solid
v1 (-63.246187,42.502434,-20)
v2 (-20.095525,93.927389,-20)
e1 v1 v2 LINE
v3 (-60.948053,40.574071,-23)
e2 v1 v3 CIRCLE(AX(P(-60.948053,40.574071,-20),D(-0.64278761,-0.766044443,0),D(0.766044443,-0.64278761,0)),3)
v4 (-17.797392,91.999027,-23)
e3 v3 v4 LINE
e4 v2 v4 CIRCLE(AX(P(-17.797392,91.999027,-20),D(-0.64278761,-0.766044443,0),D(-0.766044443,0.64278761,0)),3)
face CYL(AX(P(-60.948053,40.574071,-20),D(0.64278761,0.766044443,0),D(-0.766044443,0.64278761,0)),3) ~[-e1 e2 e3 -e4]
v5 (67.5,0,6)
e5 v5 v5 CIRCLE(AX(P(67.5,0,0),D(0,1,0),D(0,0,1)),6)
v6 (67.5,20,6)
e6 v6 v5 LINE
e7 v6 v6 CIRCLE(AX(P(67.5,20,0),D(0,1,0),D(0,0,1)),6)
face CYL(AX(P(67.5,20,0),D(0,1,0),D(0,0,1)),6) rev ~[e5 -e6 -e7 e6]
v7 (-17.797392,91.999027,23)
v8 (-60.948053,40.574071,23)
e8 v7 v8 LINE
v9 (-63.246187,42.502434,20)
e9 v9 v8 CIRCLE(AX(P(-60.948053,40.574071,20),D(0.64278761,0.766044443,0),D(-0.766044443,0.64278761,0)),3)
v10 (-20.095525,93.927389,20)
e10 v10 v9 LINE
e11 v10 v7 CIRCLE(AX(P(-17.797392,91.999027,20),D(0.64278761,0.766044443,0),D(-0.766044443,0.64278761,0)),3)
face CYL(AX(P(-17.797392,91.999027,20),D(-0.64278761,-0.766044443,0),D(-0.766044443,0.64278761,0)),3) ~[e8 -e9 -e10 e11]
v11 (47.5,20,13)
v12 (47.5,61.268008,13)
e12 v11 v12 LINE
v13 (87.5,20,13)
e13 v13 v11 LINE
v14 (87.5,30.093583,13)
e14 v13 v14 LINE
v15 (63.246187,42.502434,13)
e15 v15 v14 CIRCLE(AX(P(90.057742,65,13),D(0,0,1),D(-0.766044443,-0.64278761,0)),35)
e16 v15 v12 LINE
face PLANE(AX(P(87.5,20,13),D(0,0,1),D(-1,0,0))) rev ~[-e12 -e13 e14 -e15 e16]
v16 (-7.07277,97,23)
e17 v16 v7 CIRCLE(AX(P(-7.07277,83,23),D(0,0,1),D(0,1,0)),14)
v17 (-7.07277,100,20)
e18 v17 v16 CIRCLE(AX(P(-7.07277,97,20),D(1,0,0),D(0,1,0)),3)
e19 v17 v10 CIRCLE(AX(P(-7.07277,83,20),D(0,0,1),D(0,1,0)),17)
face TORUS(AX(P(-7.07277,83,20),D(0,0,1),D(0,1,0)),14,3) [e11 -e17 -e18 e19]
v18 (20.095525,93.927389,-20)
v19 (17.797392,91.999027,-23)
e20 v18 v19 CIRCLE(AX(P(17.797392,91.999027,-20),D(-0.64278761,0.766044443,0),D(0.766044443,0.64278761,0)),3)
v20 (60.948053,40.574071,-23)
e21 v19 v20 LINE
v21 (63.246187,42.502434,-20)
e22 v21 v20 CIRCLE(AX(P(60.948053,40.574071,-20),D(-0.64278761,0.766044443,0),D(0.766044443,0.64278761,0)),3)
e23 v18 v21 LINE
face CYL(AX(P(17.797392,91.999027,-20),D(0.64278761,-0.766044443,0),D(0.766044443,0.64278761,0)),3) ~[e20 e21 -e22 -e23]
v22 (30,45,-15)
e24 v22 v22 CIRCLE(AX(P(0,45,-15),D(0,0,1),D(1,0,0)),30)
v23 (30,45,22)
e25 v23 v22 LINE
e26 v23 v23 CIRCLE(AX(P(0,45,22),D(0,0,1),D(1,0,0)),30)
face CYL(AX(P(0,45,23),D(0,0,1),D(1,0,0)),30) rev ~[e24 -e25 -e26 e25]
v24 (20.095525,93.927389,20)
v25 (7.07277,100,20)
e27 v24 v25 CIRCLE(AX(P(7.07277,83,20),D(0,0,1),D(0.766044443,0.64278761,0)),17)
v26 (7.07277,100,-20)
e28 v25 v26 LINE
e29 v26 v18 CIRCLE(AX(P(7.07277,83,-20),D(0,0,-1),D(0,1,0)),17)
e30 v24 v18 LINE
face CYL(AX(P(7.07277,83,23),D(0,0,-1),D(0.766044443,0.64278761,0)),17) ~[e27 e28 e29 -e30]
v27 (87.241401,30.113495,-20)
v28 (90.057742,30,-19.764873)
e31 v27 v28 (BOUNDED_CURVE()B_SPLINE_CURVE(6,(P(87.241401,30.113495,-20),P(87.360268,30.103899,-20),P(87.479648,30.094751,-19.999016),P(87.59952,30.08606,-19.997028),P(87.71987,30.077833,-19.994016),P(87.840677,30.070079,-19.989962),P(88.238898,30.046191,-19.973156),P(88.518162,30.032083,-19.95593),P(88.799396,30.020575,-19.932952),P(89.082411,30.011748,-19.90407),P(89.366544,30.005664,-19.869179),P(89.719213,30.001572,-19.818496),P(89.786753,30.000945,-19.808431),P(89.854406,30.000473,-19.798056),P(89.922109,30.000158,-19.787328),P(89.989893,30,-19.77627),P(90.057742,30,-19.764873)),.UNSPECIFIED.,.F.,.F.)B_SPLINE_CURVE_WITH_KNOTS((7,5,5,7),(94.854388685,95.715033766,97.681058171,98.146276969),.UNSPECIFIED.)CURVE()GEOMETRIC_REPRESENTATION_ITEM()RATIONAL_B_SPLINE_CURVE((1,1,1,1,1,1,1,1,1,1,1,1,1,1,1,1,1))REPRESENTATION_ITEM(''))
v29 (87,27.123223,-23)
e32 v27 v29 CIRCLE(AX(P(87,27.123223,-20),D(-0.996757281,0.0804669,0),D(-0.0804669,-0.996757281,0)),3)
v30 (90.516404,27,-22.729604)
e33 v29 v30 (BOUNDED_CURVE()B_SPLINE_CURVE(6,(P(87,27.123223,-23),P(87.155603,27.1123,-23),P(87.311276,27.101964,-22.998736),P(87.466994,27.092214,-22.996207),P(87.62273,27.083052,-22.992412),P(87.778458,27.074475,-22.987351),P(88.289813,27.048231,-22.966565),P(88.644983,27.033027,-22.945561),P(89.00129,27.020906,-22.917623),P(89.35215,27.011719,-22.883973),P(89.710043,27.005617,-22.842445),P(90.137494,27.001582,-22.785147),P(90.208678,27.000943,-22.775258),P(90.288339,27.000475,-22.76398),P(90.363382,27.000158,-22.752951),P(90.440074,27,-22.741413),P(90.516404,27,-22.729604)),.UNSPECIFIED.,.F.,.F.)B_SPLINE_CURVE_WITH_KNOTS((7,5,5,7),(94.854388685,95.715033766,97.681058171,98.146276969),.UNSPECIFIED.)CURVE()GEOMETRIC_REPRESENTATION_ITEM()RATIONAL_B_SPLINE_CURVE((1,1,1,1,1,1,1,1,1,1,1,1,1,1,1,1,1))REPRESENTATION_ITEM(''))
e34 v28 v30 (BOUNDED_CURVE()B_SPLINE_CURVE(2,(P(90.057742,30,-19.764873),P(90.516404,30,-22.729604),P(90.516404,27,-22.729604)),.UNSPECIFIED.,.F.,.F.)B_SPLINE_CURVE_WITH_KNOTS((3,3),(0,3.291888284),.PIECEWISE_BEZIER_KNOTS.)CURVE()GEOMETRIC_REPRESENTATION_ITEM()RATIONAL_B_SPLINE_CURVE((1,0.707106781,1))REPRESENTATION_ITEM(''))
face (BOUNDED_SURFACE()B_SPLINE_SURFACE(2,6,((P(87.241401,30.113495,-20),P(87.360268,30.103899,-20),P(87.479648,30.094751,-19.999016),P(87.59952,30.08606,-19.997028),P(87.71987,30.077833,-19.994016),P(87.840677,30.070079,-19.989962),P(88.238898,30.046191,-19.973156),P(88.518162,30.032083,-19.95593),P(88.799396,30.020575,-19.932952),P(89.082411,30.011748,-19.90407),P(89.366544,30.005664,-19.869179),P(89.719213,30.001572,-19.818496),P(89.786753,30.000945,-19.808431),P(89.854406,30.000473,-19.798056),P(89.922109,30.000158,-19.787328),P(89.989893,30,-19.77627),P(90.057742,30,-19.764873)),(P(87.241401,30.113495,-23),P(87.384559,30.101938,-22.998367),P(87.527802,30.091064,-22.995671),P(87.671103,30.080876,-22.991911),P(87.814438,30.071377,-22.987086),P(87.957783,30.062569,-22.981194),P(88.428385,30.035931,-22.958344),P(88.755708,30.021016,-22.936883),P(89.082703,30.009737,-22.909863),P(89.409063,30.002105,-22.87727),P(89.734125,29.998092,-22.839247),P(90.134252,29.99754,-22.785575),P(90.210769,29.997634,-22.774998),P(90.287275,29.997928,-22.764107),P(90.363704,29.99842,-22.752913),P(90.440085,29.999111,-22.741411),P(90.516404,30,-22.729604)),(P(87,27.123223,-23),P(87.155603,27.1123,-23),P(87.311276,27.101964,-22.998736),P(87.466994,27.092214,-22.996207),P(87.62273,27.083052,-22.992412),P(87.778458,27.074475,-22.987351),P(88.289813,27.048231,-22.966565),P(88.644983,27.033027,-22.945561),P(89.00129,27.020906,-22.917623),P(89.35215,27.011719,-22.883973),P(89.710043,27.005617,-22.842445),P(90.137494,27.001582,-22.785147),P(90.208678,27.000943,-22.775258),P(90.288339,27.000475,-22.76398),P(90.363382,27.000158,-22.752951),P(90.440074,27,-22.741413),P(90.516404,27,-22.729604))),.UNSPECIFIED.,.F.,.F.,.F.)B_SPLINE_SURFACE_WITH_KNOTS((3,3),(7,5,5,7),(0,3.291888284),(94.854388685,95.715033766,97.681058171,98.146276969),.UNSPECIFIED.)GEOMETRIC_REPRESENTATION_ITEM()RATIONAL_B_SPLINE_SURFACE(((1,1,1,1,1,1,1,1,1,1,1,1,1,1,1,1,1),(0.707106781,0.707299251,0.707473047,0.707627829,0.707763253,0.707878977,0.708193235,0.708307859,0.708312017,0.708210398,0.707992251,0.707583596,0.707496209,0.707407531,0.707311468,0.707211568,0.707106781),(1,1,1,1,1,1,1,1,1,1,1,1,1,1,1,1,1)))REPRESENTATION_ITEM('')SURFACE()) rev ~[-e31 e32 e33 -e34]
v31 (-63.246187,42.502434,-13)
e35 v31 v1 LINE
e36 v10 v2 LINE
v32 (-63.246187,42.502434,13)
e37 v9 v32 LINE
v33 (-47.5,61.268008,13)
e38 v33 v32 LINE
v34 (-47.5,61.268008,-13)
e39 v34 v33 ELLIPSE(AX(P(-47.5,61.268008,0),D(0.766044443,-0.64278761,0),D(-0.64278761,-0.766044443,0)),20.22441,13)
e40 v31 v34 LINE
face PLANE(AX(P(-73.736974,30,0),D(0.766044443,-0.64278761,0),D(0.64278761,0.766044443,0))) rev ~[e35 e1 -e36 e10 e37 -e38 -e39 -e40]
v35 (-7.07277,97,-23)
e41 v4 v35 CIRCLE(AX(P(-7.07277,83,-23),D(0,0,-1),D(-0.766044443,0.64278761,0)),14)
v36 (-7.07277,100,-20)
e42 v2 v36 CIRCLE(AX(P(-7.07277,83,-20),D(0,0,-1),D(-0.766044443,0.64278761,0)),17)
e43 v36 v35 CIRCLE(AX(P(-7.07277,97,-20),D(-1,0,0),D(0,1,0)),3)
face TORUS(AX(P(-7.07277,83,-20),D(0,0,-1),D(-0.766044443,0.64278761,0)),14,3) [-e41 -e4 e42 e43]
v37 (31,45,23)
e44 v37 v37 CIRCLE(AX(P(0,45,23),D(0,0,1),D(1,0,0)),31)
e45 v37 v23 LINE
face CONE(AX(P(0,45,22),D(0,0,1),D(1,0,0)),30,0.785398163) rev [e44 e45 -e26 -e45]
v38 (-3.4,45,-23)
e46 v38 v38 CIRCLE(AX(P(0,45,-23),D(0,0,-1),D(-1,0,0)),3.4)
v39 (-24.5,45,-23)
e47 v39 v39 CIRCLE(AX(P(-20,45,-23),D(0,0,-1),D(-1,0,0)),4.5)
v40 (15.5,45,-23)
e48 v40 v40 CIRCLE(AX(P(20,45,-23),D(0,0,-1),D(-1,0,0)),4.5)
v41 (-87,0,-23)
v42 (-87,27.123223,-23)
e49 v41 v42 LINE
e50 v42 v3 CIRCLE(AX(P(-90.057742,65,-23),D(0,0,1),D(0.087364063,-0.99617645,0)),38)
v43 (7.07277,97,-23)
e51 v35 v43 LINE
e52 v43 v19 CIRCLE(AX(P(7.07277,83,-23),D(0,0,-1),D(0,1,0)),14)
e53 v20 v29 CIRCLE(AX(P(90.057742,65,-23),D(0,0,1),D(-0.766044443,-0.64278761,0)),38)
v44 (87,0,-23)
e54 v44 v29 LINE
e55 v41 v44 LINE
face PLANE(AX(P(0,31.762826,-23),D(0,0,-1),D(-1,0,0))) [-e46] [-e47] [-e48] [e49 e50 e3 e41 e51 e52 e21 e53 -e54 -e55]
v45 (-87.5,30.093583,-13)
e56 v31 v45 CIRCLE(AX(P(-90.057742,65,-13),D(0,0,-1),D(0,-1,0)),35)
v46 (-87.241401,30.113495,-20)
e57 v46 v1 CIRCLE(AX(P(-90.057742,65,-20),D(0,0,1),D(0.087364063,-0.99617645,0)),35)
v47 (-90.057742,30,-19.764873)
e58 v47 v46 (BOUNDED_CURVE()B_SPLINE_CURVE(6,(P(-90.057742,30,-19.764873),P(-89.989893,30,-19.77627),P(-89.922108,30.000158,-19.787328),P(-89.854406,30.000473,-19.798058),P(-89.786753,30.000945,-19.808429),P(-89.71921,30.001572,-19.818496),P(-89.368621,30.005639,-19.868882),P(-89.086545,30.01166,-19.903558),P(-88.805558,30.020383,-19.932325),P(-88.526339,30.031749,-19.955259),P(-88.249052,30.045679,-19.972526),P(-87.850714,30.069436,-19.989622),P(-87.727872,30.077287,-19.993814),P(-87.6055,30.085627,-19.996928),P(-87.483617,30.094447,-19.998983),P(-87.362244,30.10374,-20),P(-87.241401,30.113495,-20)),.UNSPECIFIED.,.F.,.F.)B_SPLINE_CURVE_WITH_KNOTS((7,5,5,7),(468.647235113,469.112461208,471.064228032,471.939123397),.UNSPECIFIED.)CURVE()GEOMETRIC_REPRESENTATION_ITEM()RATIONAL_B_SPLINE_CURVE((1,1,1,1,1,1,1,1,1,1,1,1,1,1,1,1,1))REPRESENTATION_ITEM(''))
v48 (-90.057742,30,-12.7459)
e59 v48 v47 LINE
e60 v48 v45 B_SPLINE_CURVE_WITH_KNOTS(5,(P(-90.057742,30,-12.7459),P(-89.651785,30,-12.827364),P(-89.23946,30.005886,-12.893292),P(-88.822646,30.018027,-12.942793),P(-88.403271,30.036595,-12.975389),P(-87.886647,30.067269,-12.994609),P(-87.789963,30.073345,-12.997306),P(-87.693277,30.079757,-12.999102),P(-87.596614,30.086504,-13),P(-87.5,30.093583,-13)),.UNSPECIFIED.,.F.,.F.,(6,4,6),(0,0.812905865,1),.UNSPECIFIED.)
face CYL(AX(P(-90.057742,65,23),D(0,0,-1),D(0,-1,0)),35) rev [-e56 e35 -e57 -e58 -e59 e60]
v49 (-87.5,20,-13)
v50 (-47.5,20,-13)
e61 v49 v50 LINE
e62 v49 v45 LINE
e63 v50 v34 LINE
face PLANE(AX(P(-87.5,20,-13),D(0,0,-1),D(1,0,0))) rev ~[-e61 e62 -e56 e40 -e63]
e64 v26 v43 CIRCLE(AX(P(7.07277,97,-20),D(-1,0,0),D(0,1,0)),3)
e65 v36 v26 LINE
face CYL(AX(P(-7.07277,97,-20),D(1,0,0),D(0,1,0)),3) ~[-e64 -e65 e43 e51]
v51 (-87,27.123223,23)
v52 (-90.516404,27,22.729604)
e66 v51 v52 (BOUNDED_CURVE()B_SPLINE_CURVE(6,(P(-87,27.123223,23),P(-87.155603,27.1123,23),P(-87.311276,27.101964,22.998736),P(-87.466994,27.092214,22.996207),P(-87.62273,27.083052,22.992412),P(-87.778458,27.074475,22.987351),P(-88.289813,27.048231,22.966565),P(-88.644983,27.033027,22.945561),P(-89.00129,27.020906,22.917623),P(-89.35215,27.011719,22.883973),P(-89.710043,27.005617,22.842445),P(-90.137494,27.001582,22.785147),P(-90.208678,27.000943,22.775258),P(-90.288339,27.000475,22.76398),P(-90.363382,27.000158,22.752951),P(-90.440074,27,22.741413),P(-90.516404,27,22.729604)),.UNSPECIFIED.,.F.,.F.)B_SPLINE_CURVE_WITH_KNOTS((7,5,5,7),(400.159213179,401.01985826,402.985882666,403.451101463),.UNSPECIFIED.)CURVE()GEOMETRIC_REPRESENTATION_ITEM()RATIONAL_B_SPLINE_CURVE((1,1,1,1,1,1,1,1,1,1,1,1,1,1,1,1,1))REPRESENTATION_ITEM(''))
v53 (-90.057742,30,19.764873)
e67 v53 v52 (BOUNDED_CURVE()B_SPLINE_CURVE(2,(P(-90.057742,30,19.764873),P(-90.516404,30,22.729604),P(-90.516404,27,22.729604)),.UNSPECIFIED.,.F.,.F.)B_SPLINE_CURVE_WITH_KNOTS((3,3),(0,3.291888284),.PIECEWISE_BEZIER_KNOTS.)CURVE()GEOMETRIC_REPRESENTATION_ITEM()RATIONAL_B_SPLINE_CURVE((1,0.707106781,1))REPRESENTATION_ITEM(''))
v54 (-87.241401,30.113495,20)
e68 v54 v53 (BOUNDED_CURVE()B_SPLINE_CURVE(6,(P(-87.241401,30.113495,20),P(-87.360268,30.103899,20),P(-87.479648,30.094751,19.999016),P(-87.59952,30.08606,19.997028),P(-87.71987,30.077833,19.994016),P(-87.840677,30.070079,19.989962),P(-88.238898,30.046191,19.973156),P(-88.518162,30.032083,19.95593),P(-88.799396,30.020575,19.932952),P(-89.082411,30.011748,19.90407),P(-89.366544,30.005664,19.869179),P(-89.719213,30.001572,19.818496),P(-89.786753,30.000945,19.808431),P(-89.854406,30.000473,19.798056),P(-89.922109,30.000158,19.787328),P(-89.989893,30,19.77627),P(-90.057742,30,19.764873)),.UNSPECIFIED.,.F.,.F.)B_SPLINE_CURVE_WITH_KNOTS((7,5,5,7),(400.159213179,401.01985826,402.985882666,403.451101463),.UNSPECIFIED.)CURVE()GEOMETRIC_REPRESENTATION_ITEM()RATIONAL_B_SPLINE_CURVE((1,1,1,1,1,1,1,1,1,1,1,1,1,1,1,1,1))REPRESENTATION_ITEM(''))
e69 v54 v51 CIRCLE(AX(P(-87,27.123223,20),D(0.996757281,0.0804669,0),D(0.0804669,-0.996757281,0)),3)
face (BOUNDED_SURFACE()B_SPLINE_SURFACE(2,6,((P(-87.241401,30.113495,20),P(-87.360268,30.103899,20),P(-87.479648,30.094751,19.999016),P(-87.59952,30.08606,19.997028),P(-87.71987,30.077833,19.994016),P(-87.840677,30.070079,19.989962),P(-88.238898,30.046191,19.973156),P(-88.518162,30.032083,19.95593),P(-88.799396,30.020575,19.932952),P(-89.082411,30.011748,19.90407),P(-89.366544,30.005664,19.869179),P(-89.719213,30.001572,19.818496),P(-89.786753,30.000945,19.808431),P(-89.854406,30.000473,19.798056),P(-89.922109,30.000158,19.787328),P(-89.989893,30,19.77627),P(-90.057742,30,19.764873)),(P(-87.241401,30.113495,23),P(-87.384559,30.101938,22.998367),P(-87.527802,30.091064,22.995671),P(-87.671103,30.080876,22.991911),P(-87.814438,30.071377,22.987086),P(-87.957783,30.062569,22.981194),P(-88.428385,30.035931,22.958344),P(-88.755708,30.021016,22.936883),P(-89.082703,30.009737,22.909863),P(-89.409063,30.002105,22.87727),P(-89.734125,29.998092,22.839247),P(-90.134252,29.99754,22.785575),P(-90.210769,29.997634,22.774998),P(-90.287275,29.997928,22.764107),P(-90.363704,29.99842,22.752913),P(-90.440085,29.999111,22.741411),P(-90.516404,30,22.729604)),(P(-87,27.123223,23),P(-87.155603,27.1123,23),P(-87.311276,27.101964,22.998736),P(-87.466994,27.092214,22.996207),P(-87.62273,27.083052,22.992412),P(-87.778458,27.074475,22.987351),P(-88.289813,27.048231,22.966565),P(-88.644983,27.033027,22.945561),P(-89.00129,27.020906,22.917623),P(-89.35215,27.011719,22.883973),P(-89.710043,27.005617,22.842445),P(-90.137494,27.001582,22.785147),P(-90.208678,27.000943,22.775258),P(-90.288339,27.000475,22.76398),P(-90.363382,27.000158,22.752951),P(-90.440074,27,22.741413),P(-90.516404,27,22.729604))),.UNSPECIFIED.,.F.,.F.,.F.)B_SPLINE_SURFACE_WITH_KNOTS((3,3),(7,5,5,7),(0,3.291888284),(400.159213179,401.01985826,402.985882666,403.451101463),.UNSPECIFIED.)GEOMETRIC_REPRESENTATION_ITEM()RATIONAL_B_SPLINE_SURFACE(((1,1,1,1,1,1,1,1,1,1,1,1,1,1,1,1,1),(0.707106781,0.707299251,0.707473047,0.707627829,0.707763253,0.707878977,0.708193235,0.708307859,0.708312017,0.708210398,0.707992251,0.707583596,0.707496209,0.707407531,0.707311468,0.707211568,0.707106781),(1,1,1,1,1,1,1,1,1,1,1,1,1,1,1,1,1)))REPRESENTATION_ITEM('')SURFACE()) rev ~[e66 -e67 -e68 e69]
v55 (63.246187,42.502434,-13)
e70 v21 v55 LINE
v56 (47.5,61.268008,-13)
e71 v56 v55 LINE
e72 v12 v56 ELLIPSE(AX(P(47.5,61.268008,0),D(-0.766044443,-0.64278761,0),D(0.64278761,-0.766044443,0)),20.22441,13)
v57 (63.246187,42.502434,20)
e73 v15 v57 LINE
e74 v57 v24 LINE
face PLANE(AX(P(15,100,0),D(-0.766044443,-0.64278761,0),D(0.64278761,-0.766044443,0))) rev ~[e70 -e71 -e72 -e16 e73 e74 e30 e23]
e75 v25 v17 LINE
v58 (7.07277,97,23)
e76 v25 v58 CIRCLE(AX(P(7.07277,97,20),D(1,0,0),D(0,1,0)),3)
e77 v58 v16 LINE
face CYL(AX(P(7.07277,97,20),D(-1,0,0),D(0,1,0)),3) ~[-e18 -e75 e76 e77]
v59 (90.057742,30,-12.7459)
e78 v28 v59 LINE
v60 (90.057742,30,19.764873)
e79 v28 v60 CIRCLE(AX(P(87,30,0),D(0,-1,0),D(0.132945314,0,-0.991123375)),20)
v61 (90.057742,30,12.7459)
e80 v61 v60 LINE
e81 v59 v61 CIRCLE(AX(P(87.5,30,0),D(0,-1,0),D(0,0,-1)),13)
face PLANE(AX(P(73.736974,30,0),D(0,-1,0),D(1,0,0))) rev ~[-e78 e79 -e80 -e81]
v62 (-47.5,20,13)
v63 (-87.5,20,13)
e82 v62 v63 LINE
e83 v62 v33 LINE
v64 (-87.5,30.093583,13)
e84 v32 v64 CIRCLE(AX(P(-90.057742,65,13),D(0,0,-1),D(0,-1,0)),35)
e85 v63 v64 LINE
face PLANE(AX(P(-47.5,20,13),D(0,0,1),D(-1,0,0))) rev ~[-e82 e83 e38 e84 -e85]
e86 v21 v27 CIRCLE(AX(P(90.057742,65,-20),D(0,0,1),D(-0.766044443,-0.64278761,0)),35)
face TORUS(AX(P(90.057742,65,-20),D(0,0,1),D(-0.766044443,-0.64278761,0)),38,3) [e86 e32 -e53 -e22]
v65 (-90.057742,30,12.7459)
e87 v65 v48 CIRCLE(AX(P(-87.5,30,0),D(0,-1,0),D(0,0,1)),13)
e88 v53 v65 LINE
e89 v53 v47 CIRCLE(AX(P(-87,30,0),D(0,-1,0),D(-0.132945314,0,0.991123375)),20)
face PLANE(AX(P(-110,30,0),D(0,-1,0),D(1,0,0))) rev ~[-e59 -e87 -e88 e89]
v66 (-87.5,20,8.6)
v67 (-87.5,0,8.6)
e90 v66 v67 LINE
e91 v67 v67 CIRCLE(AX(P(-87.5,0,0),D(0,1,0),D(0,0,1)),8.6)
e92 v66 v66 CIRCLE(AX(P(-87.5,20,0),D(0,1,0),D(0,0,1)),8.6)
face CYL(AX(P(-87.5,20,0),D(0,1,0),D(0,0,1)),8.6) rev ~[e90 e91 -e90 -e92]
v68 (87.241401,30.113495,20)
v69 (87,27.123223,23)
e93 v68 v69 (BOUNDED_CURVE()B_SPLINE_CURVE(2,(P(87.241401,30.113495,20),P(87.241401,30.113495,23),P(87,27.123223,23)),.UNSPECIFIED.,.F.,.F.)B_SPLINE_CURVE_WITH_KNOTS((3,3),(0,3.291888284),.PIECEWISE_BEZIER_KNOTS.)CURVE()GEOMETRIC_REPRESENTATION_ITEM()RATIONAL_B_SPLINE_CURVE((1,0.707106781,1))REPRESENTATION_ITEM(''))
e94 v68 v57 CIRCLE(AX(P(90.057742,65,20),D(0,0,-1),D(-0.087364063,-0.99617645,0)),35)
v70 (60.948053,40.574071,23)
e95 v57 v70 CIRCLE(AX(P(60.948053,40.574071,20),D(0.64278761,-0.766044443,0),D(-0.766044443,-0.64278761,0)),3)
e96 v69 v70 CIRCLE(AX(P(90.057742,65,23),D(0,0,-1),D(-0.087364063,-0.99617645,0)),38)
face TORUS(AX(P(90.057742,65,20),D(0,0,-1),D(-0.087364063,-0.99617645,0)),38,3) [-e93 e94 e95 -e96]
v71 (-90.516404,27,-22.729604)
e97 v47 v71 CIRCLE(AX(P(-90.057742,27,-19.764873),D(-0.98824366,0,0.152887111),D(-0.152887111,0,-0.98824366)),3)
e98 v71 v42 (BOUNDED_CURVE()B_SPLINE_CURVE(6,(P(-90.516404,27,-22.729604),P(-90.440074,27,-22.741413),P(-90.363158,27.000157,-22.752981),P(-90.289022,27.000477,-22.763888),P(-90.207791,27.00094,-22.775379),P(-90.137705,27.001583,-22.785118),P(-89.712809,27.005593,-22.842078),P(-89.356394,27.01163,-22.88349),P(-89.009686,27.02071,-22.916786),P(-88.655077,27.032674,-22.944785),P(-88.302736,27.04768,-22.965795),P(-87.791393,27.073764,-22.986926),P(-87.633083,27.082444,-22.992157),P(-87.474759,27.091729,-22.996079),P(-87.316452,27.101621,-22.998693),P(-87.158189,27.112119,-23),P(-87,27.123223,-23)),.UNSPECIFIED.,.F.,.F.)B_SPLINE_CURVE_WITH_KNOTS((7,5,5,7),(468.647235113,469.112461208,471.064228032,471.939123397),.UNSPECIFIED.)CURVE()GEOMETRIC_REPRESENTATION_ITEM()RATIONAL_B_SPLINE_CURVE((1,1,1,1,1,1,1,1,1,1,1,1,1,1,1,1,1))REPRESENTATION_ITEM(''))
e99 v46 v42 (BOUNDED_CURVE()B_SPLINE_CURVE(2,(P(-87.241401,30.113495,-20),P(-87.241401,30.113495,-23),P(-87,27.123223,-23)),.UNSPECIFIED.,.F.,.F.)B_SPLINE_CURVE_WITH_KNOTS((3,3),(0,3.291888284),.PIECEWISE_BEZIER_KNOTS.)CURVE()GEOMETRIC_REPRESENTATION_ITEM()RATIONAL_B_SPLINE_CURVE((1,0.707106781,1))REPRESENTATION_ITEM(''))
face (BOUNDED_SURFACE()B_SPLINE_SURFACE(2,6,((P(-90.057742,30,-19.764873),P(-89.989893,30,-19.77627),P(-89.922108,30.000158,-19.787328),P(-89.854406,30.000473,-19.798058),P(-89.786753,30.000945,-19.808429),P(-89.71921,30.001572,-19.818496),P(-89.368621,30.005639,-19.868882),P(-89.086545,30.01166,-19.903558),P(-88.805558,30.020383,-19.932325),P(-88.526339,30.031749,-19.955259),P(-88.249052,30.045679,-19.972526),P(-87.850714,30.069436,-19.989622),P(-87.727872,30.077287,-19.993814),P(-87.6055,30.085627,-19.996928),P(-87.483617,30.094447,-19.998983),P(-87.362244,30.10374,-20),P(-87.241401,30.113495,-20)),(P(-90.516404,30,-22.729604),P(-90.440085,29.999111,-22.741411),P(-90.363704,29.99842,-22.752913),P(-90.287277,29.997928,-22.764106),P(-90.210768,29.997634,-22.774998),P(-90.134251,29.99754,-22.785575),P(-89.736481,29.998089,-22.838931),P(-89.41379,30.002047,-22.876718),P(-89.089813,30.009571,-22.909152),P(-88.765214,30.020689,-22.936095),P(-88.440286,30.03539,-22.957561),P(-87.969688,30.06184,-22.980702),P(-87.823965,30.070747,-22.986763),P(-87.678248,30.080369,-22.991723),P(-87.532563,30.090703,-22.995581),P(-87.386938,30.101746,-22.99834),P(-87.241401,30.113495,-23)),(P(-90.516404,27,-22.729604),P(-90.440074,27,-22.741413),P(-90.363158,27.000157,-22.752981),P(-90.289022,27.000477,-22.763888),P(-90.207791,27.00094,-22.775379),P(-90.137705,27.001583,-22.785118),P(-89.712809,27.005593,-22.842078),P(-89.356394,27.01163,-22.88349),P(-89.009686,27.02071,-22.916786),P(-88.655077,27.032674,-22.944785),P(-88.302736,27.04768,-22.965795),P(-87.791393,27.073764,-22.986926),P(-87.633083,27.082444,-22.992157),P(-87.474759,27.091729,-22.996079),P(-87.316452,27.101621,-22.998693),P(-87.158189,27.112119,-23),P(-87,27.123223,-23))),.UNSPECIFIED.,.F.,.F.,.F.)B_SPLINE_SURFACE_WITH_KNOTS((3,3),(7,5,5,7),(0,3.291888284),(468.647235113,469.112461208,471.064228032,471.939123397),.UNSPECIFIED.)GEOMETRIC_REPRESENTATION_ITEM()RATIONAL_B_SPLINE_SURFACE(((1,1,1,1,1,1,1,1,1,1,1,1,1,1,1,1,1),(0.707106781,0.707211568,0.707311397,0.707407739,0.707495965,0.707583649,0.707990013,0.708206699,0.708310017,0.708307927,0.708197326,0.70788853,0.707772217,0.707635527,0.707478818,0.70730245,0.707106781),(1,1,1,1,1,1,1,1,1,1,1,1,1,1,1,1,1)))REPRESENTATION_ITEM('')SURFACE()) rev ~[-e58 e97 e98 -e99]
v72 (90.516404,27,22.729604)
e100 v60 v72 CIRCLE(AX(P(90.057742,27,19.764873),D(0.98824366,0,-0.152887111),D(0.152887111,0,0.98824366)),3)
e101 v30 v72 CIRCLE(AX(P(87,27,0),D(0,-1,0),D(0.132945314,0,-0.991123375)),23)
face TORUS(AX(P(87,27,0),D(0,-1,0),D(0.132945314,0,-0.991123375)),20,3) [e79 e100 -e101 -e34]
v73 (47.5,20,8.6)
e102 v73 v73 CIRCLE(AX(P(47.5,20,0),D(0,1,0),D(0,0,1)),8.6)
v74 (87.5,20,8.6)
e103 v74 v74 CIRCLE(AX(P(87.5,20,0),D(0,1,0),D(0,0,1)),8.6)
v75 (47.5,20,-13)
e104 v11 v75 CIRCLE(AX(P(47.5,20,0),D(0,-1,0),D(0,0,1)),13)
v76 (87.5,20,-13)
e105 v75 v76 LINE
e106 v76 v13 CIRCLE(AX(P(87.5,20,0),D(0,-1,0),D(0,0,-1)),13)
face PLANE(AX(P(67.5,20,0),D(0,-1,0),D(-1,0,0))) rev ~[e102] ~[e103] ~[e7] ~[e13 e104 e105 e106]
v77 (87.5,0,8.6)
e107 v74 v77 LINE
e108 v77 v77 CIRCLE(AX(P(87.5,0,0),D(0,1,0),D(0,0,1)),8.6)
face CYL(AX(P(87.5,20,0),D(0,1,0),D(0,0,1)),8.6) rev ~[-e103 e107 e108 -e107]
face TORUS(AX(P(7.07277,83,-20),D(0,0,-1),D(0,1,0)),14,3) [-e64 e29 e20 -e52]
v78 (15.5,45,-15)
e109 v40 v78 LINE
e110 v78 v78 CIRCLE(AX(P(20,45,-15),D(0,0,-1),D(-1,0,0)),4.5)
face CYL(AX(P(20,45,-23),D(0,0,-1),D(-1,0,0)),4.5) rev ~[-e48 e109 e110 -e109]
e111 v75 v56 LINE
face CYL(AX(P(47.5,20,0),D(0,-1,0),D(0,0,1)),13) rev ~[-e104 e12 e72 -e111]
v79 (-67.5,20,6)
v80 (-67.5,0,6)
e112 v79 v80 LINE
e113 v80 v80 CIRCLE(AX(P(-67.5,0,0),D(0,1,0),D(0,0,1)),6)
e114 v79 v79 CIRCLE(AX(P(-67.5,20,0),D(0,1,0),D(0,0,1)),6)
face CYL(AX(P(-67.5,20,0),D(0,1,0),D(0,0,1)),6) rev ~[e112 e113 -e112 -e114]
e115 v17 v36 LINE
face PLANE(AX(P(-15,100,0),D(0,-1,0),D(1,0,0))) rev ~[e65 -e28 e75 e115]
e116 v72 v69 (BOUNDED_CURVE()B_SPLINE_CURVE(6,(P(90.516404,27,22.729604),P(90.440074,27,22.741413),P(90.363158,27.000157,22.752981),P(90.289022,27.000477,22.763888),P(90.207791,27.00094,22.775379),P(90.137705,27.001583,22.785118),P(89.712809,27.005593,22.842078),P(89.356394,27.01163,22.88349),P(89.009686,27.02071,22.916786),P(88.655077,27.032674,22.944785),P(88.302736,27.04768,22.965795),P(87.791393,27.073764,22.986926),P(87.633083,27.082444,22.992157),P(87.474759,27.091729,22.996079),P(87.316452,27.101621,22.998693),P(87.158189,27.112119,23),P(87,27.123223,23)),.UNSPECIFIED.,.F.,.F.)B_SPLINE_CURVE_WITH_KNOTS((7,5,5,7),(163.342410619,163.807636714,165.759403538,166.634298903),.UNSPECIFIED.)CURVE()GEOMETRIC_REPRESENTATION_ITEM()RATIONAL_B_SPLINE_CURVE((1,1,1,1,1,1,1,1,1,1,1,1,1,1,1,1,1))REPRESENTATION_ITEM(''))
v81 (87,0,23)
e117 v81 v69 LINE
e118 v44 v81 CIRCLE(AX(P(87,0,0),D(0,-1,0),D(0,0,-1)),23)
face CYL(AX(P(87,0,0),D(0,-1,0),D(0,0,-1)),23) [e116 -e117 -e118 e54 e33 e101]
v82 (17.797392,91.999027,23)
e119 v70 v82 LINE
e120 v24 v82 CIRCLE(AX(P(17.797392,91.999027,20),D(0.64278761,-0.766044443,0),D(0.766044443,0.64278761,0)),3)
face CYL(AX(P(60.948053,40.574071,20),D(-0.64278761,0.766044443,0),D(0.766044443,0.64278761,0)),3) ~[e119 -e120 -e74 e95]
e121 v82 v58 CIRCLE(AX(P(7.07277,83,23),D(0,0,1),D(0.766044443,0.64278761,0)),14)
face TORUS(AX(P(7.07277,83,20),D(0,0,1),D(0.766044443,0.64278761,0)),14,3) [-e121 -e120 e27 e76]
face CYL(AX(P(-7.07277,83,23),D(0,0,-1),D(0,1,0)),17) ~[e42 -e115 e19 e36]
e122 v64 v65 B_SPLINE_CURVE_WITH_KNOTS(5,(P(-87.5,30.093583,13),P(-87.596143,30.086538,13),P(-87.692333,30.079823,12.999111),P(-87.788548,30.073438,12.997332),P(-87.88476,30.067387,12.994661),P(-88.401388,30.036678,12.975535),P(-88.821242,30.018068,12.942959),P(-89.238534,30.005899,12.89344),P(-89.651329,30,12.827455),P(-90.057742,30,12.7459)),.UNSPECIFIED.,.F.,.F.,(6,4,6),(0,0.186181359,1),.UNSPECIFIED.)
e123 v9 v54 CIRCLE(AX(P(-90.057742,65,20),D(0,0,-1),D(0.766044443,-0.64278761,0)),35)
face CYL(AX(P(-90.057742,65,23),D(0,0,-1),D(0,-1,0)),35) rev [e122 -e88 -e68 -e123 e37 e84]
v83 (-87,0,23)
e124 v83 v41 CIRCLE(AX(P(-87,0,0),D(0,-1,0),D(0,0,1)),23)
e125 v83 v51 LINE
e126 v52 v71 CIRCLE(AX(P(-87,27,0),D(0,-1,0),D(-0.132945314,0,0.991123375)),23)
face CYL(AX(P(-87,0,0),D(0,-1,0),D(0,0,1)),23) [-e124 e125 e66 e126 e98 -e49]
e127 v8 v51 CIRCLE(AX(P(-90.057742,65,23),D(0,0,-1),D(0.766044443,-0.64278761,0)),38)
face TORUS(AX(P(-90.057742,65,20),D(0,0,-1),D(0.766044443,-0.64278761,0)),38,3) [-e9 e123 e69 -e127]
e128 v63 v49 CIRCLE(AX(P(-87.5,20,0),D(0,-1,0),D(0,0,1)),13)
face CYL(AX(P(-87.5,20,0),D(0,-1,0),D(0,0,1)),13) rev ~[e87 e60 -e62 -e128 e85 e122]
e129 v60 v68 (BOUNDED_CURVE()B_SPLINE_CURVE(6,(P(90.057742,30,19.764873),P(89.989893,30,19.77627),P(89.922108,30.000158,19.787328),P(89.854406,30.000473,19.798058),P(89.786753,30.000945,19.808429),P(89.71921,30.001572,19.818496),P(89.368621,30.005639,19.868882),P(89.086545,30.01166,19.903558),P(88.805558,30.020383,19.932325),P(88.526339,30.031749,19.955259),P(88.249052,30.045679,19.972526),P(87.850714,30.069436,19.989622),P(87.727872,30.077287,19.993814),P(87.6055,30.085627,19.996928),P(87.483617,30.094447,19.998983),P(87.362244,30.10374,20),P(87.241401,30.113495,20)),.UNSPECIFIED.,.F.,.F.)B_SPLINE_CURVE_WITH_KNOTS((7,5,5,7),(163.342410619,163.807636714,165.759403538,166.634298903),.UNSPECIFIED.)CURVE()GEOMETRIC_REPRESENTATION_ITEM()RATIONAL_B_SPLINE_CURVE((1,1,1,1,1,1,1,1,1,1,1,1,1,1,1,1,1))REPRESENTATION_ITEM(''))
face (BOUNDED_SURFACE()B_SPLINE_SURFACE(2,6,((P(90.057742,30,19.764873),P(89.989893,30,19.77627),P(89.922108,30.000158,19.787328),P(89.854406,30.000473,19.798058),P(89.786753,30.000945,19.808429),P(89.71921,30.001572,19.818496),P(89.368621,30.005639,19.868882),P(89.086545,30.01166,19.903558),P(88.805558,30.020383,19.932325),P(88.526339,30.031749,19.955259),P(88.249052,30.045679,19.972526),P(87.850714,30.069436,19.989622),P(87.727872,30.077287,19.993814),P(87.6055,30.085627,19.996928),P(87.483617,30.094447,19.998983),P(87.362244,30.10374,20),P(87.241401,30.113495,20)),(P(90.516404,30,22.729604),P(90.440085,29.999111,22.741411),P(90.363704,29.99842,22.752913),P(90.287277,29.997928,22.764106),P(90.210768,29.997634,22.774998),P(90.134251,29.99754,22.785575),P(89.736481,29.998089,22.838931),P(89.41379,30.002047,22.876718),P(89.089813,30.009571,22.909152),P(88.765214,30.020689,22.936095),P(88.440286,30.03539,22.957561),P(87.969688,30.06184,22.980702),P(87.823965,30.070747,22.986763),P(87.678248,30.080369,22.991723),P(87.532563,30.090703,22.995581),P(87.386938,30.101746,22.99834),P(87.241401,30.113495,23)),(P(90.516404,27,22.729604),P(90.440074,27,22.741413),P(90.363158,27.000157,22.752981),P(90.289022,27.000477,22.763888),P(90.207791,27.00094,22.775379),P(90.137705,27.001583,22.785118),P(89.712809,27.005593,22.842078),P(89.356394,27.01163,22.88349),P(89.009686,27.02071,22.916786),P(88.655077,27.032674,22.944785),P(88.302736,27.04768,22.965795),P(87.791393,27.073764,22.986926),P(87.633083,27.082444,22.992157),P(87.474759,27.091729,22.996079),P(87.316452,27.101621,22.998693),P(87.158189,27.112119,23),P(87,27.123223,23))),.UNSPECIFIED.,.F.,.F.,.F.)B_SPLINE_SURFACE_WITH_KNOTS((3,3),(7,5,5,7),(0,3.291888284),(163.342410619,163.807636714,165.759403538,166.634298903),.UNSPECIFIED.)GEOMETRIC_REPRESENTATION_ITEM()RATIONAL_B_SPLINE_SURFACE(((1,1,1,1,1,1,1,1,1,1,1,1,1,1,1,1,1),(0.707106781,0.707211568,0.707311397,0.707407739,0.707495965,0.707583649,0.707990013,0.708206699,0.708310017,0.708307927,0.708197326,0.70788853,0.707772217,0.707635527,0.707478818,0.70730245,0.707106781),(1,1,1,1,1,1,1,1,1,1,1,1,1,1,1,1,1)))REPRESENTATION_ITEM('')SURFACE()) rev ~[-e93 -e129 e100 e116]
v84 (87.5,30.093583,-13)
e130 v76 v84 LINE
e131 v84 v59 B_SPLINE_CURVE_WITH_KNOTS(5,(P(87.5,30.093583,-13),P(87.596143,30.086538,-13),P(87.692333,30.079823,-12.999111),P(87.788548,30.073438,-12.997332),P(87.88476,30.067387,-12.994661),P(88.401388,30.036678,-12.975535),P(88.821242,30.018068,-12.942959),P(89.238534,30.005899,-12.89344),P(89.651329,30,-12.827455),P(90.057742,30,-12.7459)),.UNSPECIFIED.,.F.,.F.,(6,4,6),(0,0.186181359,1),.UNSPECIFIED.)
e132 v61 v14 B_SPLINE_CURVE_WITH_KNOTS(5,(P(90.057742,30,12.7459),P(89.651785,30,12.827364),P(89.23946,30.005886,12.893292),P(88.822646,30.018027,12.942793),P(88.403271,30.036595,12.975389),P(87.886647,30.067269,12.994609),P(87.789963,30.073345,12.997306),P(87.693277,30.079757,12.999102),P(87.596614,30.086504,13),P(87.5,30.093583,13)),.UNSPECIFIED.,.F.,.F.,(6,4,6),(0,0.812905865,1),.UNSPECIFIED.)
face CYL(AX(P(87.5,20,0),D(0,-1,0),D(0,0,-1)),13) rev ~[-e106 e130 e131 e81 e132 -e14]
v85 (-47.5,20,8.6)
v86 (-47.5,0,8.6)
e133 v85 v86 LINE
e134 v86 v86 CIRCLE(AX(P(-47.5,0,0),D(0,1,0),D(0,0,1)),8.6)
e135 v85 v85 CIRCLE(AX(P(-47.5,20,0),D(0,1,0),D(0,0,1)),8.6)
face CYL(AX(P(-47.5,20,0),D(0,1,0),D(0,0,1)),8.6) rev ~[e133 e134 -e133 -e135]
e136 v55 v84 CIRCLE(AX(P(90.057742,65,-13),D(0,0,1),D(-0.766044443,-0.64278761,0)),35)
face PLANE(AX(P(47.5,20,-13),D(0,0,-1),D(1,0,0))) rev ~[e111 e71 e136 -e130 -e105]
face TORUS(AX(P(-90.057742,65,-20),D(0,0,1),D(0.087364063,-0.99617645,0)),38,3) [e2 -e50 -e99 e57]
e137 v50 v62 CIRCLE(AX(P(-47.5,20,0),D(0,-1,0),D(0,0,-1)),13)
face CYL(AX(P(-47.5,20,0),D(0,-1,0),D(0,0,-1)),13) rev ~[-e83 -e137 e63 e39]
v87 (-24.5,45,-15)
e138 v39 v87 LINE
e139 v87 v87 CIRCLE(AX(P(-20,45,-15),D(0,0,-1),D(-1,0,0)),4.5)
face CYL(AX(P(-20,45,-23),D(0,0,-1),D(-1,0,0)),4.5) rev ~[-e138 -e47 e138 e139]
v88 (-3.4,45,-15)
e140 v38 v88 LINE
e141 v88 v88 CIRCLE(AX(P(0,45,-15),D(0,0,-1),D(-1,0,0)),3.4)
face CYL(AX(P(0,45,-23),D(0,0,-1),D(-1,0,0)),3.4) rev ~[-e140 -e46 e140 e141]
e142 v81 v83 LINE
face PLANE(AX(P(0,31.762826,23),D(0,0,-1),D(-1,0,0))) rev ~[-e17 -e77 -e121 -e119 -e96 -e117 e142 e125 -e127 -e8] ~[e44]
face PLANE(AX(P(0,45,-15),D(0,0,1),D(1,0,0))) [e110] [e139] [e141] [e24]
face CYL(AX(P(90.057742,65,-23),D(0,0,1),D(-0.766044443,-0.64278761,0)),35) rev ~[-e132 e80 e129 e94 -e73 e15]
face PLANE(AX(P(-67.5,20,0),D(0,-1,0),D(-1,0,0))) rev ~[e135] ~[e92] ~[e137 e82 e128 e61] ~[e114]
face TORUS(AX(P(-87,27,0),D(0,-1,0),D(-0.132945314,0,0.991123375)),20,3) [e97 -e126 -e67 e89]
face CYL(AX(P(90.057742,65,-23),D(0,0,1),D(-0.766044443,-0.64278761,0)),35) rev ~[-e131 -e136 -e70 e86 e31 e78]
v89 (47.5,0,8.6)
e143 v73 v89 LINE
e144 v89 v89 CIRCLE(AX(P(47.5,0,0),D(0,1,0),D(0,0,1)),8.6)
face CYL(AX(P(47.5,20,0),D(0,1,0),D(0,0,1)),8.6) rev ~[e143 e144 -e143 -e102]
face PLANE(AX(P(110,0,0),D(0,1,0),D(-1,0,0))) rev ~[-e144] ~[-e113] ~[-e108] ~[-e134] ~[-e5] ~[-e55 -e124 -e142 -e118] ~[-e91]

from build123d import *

# Parameters (mm, degrees)
BOSS_EXTRUDE1_DEPTH = 23
SKETCH2_OUTSIDE_W   = 271.2
SKETCH2_OUTSIDE_H   = 97.2
CUT_EXTRUDE1_DEPTH  = 151.429385427
FILLET1_R           = 35
FILLET2_R           = 17
CUT_EXTRUDE2_START  = 20
CUT_EXTRUDE2_DEPTH  = 131.429385516
SKETCH4_R           = 8.6
SKETCH4_R_2         = 6
CUT_EXTRUDE3_DEPTH  = 138.945641564
SKETCH5_R           = 30
CUT_EXTRUDE4_DEPTH  = 38
SKETCH6_R           = 4.5
SKETCH6_R_2         = 3.4
CUT_EXTRUDE5_DEPTH  = 156.614909412
CHAMFER1_SIZE       = 1
FILLET3_R           = 3


with BuildPart() as part:
    # Sketch1 → Boss-Extrude1 (new, symmetric)
    with BuildSketch(Plane.XY):
        Polygon((110, 0), (-110, 0), (-110, 30), (-73.736974182, 30), (-15, 100), (15, 100), (73.736974182, 30), (110, 30), align=None)
    extrude(amount=BOSS_EXTRUDE1_DEPTH, both=True)

    # Sketch2 outside → Cut-Extrude1 (cut, through all)
    with BuildSketch(Plane(origin=(0, 0, 0), x_dir=(1, 0, 0), z_dir=(0, 1, 0))):
        Rectangle(SKETCH2_OUTSIDE_W, SKETCH2_OUTSIDE_H)
        with BuildLine():
            Line((87, -23), (-87, -23))
            ThreePointArc((-87, -23), (-110, 0), (-87, 23))
            Line((-87, 23), (87, 23))
            ThreePointArc((87, 23), (110, 0), (87, -23))
        make_face(mode=Mode.SUBTRACT)
    extrude(amount=CUT_EXTRUDE1_DEPTH, mode=Mode.SUBTRACT)

    # Fillet1
    fillet1_edges = [part.edges().sort_by_distance(p)[0] for p in [
        (73.736974182, 30, 0),
        (-73.736974182, 30, 0),
    ]]
    fillet(fillet1_edges, radius=FILLET1_R)

    # Fillet2
    fillet2_edges = [part.edges().sort_by_distance(p)[0] for p in [
        (-15, 100, 0),
        (15, 100, 0),
    ]]
    fillet(fillet2_edges, radius=FILLET2_R)

    # Sketch3 → Cut-Extrude2 (cut, through all)
    with BuildSketch(Plane(origin=(0, 0, 0), x_dir=(1, 0, 0), z_dir=(0, 1, 0)).offset(CUT_EXTRUDE2_START)):
        with BuildLine():
            Line((-87.5, 13), (-47.5, 13))
            ThreePointArc((-47.5, 13), (-34.5, 0), (-47.5, -13))
            Line((-47.5, -13), (-87.5, -13))
            ThreePointArc((-87.5, -13), (-100.5, 0), (-87.5, 13))
        make_face()
        with BuildLine():
            Line((87.5, -13), (47.5, -13))
            ThreePointArc((47.5, -13), (34.5, 0), (47.5, 13))
            Line((47.5, 13), (87.5, 13))
            ThreePointArc((87.5, 13), (100.5, 0), (87.5, -13))
        make_face()
    extrude(amount=CUT_EXTRUDE2_DEPTH, mode=Mode.SUBTRACT)

    # Sketch4 → Cut-Extrude3 (cut, through all)
    with BuildSketch(Plane(origin=(0, 20, 0), x_dir=(1, 0, 0), z_dir=(0, 1, 0))):
        with Locations(Location((-87.5, 0, 0), (0, 0, 270))):
            Circle(SKETCH4_R)
        with Locations(Location((-47.5, 0, 0), (0, 0, 270))):
            Circle(SKETCH4_R)
        with Locations(Location((47.5, 0, 0), (0, 0, 270))):
            Circle(SKETCH4_R)
        with Locations(Location((87.5, 0, 0), (0, 0, 270))):
            Circle(SKETCH4_R)
        with Locations(Location((67.5, 0, 0), (0, 0, 270))):
            Circle(SKETCH4_R_2)
        with Locations(Location((-67.5, 0, 0), (0, 0, 270))):
            Circle(SKETCH4_R_2)
    extrude(amount=-CUT_EXTRUDE3_DEPTH, mode=Mode.SUBTRACT)

    # Sketch5 → Cut-Extrude4 (cut)
    with BuildSketch(Plane.XY.offset(23)):
        with Locations((0, 45)):
            Circle(SKETCH5_R)
    extrude(amount=-CUT_EXTRUDE4_DEPTH, mode=Mode.SUBTRACT)

    # Sketch6 → Cut-Extrude5 (cut, through all)
    with BuildSketch(Plane(origin=(0, 0, -23), x_dir=(-1, 0, 0), z_dir=(0, 0, -1))):
        with Locations((20, 45)):
            Circle(SKETCH6_R)
        with Locations((-20, 45)):
            Circle(SKETCH6_R)
        with Locations((0, 45)):
            Circle(SKETCH6_R_2)
    extrude(amount=-CUT_EXTRUDE5_DEPTH, mode=Mode.SUBTRACT)

    # Chamfer1
    chamfer1_edges = [part.edges().sort_by_distance(p)[0] for p in [
        (-30, 45, 23),
    ]]
    chamfer(chamfer1_edges, length=CHAMFER1_SIZE)

    # Fillet3
    fillet3_edges = [part.edges().sort_by_distance(p)[0] for p in [
        (41.670856027, 68.214911513, -23),
        (41.670856027, 68.214911513, 23),
        (110, 30, 0),
        (-110, 30, 0),
        (73.893294765, 33.95631081, -23),
        (88.530811729, 30.033323245, -22.949000314),
        (88.530811729, 30.033323245, 22.949000314),
        (73.893294765, 33.95631081, 23),
        (-88.530811729, 30.033323245, -22.949000314),
        (-73.893294765, 33.95631081, -23),
        (-73.893294765, 33.95631081, 23),
        (-88.530811729, 30.033323245, 22.949000314),
        (0, 100, -23),
        (0, 100, 23),
        (-41.670856027, 68.214911513, -23),
        (-14.257280261, 98.40723238, -23),
        (14.257280261, 98.40723238, -23),
        (-41.670856027, 68.214911513, 23),
        (-14.257280261, 98.40723238, 23),
        (14.257280261, 98.40723238, 23),
    ]]
    fillet(fillet3_edges, radius=FILLET3_R)


solid = part.part
